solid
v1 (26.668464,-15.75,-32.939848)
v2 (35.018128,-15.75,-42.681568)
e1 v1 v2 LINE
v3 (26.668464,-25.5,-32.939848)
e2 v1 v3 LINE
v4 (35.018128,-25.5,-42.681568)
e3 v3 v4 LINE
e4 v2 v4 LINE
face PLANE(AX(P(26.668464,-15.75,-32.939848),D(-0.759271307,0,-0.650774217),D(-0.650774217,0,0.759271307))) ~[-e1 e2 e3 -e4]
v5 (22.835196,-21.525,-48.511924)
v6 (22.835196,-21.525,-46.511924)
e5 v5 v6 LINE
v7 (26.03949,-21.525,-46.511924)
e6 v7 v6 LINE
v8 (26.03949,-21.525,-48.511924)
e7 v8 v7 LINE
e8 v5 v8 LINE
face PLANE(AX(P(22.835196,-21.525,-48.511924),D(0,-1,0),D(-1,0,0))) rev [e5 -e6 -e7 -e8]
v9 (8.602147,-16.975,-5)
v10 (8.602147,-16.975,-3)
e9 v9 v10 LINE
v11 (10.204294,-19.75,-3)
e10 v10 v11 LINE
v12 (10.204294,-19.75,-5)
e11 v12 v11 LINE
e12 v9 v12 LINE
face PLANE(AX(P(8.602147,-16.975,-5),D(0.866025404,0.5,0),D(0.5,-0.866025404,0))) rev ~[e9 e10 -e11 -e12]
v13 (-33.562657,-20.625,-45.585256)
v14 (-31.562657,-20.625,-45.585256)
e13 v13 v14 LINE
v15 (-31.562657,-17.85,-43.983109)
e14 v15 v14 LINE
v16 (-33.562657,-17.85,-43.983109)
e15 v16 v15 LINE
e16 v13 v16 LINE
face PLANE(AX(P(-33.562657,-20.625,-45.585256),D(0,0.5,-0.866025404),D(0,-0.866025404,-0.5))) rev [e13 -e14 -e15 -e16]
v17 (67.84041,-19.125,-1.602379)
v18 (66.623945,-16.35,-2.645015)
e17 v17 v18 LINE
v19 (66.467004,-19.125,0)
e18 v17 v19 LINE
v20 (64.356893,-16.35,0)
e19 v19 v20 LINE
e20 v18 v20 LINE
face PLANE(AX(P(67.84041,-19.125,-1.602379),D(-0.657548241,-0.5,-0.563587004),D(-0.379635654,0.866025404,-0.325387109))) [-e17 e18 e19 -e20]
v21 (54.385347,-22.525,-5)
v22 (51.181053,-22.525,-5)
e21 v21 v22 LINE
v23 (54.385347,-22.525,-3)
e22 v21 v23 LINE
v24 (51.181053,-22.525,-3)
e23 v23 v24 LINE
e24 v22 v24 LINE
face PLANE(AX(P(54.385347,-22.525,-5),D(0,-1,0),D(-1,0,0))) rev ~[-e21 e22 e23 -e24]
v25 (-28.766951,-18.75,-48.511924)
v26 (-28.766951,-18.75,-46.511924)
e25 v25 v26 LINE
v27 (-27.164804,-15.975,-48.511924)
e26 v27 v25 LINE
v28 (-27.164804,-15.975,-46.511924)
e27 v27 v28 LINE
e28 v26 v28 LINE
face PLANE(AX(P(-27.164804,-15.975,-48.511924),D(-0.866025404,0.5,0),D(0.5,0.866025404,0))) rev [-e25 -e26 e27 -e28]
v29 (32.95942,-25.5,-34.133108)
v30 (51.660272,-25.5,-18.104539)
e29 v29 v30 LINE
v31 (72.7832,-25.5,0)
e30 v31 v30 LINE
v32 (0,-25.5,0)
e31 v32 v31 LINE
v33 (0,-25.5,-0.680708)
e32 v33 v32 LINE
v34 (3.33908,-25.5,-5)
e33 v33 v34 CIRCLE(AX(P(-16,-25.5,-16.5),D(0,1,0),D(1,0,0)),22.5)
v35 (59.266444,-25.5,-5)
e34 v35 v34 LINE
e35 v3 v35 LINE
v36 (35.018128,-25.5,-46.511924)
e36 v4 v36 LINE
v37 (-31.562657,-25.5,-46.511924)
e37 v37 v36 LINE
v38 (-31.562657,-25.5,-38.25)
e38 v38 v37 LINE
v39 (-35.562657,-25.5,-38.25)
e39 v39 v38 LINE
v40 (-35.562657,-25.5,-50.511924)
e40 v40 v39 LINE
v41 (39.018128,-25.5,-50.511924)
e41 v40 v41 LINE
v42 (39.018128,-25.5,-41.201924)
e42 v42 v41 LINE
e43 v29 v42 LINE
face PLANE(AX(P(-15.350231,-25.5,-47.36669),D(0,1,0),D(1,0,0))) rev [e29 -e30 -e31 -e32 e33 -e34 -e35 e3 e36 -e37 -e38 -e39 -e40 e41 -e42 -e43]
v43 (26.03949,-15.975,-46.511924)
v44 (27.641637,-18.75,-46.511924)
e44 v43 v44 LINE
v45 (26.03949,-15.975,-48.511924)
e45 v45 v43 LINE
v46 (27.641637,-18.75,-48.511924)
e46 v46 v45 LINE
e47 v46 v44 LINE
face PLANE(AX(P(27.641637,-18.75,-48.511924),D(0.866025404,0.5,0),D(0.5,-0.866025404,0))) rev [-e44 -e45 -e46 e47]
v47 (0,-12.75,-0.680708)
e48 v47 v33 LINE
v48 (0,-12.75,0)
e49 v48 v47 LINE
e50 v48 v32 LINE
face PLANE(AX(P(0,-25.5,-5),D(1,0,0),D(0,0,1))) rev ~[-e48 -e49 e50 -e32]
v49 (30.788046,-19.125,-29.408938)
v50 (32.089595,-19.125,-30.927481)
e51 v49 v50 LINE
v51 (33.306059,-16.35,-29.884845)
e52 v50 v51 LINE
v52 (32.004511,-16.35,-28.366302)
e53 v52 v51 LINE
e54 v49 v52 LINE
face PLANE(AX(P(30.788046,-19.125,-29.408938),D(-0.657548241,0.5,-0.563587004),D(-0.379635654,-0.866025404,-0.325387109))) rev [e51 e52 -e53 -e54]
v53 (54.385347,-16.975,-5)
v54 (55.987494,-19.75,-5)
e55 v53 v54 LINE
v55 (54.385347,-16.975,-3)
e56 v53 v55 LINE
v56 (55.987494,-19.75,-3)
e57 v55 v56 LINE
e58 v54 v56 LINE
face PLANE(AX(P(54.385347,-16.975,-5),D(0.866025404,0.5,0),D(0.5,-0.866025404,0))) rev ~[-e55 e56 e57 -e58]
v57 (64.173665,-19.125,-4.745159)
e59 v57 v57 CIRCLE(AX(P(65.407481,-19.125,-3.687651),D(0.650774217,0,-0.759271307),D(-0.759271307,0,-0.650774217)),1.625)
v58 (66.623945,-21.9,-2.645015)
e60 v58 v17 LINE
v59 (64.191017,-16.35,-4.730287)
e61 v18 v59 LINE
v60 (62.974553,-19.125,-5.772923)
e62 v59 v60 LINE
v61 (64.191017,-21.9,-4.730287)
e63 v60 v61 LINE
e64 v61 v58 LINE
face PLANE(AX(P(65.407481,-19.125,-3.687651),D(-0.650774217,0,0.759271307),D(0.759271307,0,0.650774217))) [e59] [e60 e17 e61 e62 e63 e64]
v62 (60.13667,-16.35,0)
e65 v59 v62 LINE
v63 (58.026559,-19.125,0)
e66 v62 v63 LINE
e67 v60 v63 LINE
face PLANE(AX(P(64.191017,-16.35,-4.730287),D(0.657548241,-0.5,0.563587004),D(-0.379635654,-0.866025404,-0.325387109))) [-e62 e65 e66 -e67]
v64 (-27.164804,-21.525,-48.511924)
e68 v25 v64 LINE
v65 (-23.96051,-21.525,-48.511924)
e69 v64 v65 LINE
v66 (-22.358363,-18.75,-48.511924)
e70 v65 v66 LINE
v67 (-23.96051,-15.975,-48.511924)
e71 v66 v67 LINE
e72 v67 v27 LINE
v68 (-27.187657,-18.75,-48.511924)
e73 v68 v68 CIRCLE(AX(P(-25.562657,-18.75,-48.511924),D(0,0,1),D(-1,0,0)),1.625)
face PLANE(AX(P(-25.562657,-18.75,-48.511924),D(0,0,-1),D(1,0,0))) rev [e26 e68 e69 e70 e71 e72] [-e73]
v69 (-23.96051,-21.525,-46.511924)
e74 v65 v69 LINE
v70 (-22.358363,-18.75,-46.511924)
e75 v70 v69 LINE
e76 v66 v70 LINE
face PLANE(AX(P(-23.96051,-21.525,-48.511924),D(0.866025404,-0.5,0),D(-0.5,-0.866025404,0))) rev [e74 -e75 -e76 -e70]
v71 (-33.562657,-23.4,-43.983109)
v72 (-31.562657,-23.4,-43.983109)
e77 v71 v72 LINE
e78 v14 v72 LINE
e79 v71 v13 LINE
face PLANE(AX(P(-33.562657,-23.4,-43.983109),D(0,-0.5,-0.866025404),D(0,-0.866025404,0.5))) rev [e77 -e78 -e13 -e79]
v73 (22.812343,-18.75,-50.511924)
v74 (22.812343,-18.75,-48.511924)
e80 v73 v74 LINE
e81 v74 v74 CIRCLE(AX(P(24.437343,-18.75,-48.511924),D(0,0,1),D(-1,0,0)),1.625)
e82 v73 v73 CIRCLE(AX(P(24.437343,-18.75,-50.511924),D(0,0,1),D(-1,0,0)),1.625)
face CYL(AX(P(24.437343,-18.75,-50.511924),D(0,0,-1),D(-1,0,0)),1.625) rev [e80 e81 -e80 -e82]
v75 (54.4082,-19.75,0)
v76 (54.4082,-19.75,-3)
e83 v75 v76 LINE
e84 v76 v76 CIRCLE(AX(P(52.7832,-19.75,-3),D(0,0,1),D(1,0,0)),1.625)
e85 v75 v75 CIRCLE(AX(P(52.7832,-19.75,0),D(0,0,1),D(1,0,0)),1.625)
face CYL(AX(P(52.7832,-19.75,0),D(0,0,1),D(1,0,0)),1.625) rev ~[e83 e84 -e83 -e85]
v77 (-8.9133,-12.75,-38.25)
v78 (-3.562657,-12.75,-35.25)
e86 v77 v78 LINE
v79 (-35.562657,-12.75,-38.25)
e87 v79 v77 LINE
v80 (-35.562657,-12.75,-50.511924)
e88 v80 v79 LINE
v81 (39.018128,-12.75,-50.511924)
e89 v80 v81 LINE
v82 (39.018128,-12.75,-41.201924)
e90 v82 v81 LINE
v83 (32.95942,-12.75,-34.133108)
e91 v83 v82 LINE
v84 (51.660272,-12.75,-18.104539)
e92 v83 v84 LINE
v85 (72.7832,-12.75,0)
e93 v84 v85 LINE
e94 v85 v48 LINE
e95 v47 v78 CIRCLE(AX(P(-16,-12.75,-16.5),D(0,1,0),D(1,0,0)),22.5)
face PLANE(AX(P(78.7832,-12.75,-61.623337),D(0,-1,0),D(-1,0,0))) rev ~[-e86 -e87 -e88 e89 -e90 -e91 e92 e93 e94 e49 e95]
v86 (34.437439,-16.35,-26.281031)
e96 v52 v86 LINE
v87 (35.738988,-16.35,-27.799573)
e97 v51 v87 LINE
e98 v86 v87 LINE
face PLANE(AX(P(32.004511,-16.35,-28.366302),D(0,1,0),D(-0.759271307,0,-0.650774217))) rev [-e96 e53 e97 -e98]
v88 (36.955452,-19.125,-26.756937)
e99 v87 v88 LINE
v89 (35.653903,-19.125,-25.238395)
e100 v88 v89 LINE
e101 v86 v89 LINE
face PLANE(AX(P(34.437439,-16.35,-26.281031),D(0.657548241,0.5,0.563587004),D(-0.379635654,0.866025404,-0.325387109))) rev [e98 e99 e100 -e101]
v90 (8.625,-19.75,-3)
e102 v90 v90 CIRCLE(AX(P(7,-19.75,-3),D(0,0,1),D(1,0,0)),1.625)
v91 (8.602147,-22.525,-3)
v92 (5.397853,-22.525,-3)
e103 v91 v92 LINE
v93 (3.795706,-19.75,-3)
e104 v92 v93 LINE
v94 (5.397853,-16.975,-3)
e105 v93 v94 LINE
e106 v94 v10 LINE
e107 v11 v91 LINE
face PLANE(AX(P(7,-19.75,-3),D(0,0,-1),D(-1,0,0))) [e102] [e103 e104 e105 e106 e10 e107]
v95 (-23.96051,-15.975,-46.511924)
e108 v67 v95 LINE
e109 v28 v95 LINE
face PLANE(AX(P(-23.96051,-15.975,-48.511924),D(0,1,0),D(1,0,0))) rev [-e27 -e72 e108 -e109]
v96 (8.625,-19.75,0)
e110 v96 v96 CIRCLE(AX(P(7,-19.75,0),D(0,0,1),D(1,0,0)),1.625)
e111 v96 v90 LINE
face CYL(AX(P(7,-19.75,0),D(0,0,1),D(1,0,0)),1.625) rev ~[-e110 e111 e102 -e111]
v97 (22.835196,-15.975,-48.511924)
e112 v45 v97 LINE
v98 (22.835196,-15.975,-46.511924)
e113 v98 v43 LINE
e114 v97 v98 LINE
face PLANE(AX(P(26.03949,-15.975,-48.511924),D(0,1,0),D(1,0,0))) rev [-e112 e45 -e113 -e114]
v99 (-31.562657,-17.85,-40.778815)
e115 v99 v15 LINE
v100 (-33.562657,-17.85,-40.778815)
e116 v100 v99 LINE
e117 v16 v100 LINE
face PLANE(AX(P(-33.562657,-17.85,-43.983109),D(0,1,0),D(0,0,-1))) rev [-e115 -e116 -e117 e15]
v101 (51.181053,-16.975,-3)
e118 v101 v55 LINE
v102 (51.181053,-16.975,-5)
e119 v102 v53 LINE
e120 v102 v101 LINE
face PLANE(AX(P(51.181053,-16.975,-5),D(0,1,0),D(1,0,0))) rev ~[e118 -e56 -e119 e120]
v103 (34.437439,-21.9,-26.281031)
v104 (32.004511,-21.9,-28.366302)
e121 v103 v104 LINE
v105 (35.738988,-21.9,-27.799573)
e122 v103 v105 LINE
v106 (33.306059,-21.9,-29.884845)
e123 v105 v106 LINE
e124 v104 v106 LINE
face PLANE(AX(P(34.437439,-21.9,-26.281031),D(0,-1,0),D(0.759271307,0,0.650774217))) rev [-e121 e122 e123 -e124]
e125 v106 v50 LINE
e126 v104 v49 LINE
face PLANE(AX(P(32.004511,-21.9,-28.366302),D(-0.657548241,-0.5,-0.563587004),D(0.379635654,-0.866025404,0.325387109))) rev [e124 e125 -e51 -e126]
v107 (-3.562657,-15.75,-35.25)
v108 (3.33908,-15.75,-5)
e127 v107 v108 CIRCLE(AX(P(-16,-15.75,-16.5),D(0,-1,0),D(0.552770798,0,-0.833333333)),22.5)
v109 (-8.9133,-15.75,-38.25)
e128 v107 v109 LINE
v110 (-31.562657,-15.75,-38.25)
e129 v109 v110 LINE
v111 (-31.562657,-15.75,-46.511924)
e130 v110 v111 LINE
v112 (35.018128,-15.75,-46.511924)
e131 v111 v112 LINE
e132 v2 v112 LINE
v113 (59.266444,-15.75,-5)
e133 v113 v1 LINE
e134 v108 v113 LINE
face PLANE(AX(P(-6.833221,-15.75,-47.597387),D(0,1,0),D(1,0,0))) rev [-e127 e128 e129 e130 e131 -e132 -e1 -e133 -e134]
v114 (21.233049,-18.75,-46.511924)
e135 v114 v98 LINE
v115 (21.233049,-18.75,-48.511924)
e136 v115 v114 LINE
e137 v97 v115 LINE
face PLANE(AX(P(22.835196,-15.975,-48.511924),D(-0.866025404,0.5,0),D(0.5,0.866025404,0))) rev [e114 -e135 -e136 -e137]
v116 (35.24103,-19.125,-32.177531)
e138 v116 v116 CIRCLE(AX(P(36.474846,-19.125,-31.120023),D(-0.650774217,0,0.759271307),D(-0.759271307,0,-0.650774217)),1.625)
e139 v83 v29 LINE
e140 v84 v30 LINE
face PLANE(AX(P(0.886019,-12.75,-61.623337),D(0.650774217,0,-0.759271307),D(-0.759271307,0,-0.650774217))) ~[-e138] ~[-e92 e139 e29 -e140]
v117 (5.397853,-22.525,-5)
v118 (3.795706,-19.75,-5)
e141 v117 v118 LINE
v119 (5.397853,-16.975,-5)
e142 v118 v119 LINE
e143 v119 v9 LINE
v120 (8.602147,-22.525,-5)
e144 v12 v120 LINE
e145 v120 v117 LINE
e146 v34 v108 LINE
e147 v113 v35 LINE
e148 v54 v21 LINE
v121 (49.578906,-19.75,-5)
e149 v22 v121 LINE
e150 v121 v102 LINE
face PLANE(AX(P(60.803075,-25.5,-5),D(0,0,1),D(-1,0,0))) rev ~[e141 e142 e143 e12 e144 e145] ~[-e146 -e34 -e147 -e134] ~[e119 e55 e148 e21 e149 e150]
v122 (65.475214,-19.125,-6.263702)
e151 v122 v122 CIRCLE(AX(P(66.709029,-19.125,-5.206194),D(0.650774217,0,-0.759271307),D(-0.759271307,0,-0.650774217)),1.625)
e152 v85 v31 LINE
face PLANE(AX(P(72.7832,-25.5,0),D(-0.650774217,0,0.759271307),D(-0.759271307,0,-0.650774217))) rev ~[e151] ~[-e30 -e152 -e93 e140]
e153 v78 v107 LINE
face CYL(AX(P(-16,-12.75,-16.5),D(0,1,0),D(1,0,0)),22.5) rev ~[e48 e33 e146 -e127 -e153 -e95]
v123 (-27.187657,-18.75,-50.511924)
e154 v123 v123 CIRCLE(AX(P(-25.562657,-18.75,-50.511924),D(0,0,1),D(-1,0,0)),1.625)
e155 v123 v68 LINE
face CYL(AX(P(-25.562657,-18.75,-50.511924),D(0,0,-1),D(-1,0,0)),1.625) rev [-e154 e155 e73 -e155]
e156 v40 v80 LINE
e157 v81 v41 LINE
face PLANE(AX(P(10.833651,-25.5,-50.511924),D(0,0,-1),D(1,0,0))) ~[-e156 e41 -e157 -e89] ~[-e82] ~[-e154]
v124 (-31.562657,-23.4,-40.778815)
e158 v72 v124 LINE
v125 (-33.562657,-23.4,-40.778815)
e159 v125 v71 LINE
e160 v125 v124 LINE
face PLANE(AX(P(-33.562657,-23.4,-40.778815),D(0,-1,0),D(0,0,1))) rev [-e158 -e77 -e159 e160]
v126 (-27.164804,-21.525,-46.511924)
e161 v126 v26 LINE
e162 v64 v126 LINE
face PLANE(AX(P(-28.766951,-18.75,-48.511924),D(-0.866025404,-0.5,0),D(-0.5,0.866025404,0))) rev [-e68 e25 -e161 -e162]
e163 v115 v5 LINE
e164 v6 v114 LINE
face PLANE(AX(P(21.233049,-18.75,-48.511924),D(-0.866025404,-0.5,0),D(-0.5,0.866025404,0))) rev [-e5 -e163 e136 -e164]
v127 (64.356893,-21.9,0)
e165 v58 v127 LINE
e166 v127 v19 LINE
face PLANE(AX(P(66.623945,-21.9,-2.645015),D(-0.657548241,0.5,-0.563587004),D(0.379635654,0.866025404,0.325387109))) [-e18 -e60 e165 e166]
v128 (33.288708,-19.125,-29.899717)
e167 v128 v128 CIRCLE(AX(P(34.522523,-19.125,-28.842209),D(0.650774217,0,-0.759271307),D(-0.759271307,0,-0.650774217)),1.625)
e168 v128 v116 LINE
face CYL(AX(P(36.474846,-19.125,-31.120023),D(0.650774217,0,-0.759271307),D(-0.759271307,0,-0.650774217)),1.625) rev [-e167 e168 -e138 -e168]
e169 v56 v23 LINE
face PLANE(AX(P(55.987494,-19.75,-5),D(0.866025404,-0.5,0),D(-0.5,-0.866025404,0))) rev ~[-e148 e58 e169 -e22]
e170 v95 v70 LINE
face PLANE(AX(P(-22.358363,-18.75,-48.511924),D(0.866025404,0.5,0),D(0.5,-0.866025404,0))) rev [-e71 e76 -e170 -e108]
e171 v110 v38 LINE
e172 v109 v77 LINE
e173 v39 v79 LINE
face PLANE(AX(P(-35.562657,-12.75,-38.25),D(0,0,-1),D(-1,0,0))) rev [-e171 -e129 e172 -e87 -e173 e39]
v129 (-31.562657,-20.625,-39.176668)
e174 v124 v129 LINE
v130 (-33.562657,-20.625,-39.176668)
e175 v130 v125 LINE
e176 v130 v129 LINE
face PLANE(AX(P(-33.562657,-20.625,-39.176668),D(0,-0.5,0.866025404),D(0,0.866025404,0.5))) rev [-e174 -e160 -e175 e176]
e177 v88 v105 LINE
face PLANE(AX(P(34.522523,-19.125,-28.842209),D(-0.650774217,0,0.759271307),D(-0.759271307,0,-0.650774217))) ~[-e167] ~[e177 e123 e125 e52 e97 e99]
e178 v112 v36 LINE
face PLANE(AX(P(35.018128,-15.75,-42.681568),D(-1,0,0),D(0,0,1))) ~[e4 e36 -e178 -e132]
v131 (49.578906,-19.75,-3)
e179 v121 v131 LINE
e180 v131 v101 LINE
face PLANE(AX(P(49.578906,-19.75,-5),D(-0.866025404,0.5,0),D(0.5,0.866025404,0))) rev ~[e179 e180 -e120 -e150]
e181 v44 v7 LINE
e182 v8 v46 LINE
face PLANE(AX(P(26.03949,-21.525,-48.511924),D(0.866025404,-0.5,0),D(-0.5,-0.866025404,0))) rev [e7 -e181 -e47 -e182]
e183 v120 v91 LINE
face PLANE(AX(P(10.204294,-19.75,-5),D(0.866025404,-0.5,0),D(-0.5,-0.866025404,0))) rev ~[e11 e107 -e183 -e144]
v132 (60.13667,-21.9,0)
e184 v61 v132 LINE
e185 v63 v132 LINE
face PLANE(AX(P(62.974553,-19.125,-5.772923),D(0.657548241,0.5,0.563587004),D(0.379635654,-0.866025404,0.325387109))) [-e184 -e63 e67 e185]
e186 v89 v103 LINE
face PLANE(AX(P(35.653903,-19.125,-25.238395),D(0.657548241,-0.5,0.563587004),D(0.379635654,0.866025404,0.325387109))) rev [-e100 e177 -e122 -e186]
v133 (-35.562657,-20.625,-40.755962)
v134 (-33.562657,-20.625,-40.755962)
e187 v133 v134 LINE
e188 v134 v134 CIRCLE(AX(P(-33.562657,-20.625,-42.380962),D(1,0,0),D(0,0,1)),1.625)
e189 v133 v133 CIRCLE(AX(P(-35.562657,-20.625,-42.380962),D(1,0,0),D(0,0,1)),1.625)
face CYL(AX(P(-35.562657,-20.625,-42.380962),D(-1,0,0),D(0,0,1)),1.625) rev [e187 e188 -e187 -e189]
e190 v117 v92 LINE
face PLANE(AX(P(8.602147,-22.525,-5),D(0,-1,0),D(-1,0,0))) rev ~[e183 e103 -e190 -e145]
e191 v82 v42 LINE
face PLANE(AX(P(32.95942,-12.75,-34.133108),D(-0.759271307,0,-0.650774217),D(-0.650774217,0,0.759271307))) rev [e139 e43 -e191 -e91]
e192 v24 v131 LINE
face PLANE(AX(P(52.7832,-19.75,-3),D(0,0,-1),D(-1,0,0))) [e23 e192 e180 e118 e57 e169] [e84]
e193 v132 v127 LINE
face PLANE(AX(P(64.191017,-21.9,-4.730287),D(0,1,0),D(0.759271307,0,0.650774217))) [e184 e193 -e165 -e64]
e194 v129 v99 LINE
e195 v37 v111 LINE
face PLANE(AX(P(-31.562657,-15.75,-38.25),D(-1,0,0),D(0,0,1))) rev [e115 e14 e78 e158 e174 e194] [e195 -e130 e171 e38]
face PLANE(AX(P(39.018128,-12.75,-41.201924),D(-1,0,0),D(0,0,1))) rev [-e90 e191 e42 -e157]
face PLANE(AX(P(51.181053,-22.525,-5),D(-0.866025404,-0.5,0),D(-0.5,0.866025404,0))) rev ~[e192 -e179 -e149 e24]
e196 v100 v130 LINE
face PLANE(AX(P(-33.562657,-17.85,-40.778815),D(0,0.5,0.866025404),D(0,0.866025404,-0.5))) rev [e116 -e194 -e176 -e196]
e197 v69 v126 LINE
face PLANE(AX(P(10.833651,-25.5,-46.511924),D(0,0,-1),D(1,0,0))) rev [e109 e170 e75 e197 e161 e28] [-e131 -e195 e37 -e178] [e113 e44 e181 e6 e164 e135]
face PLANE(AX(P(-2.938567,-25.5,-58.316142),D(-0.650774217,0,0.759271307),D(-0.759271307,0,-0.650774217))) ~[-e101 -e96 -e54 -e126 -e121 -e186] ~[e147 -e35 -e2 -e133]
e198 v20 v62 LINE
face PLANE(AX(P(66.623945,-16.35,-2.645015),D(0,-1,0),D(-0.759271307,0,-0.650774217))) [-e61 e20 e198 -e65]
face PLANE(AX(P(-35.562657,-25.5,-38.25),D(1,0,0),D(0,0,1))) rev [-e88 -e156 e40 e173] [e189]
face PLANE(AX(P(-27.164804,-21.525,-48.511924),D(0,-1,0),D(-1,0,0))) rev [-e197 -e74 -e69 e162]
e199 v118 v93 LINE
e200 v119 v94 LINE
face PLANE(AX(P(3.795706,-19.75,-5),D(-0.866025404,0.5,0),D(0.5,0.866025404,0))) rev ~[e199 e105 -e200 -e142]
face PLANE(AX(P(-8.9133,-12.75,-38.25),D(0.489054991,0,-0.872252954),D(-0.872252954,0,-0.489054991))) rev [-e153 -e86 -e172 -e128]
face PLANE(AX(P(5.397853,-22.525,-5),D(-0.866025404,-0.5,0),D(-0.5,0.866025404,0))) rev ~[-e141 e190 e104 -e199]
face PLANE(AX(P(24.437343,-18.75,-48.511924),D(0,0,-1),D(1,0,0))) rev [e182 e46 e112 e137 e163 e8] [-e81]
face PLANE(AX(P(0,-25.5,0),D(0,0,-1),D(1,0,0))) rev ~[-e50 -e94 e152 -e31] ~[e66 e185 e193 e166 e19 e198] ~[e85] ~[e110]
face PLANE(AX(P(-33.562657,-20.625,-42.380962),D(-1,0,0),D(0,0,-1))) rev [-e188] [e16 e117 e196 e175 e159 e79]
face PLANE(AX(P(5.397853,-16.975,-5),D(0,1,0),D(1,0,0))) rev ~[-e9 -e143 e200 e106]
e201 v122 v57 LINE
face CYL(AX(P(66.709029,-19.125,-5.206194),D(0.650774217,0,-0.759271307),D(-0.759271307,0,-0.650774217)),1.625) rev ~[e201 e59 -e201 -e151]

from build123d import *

# Parameters (mm, degrees)
SALIENTE_EXTRUIR1_DEPTH     = 12.75
CORTAR_EXTRUIR1_REACH       = 31.62
CROQUIS2_R                  = 1.625
CROQUIS3_R                  = 22.5
CORTAR_EXTRUIR2_DEPTH       = 13.75
SALIENTE_EXTRUIR2_DEPTH     = 3
SALIENTE_EXTRUIR3_DEPTH     = 9.75
CROQUIS6_R                  = 1.625
CORTAR_EXTRUIR3_DEPTH       = 10
CORTAR_EXTRUIR4_START       = -2
CORTAR_EXTRUIR4_DEPTH       = 10
CORTAR_EXTRUIR5_START       = -2
CORTAR_EXTRUIR5_DEPTH       = 10
CORTAR_EXTRUIR6_DEPTH       = 2
CORTAR_EXTRUIR7_REACH       = 37.25
CROQUIS10_R                 = 1.625
CORTAR_EXTRUIR8_DEPTH       = 2
CROQUIS12_W                 = 92.508691999
CROQUIS12_H                 = 24.255818813
CORTAR_EXTRUIR9_DEPTH       = 1
CORTAR_EXTRUIR9_DEPTH_BACK  = 36.25
SALIENTE_EXTRUIR4_DEPTH     = 12.75
CORTAR_EXTRUIR10_START      = -9.75
CORTAR_EXTRUIR10_DEPTH      = 9.75
CROQUIS16_W                 = 68.039065087
CROQUIS16_H                 = 12.75
CORTAR_EXTRUIR11_DEPTH      = 1
CROQUIS17_W                 = 40.657498706
CROQUIS17_H                 = 22.934549925
CORTAR_EXTRUIR12_DEPTH      = 1
CORTAR_EXTRUIR12_DEPTH_BACK = 13.75
SALIENTE_EXTRUIR5_REACH     = 14.75
CROQUIS18_W                 = 34.9120451
CROQUIS18_H                 = 3.951156815
CROQUIS20_R                 = 1.625
CORTAR_EXTRUIR14_DEPTH      = 10
CORTAR_EXTRUIR15_DEPTH      = 2
CROQUIS22_R                 = 1.625
CORTAR_EXTRUIR16_DEPTH      = 10
CORTAR_EXTRUIR17_DEPTH      = 2
SALIENTE_EXTRUIR6_DEPTH     = 12.75
CORTAR_EXTRUIR18_DEPTH      = 2
CROQUIS28_R                 = 1.625
SALIENTE_EXTRUIR7_DEPTH     = 1
CORTAR_EXTRUIR19_REACH      = 110.346
CROQUIS29_R                 = 1.625
CORTAR_EXTRUIR20_DEPTH      = 2
SALIENTE_EXTRUIR11_DEPTH    = 12.75
CROQUIS41_R                 = 1.625
CORTAR_EXTRUIR25_DEPTH      = 10
SALIENTE_EXTRUIR12_DEPTH    = 12.75
SALIENTE_EXTRUIR13_DEPTH    = 12.75
CORTAR_EXTRUIR26_DEPTH      = 13.75
SALIENTE_EXTRUIR14_START    = -9.15
SALIENTE_EXTRUIR14_DEPTH    = 5.55
SALIENTE_EXTRUIR15_REACH    = 14.75
CORTAR_EXTRUIR27_REACH      = 110.346
CROQUIS47_R                 = 1.625
CORTAR_EXTRUIR28_REACH      = 112.346
CORTAR_EXTRUIR28_START      = -2
CORTAR_EXTRUIR29_START      = -9.75
CORTAR_EXTRUIR29_DEPTH      = 9.75
CORTAR_EXTRUIR30_REACH      = 52.512
CROQUIS50_R                 = 1.625
CORTAR_EXTRUIR31_REACH      = 54.512
CORTAR_EXTRUIR31_START      = -2
CROQUIS19_W                 = 120.448667976
CROQUIS19_H                 = 32.886651308
CORTAR_EXTRUIR13_DEPTH      = 1
CORTAR_EXTRUIR13_DEPTH_BACK = 62.623336743


with BuildPart() as part:
    # Croquis1 → Saliente-Extruir1 (new body)
    with BuildSketch(Plane(origin=(0, 0, 0), x_dir=(1, 0, 0), z_dir=(0, 1, 0))):
        Polygon((0, 0), (72.78319995, 0), (38.224450787, 29.62043043), (35.621353918, 26.5833452), (60.803074847, 5), (0, 5), align=None)
    extrude(amount=SALIENTE_EXTRUIR1_DEPTH)

    # Croquis2 → Cortar-Extruir1 (cut, up to next)
    with BuildSketch(Plane.XY, mode=Mode.PRIVATE) as cortar_extruir1_sk1:
        with Locations((52.78319995, 5.75)):
            Circle(CROQUIS2_R)
    cortar_extruir1_tool1 = extrude(cortar_extruir1_sk1.sketch, amount=-CORTAR_EXTRUIR1_REACH, mode=Mode.PRIVATE) & part.part
    add(cortar_extruir1_tool1.solids().sort_by_distance((52.7832, 5.75, 0))[0], mode=Mode.SUBTRACT)
    # Croquis2 → Cortar-Extruir1 (cut, up to next)
    with BuildSketch(Plane.XY, mode=Mode.PRIVATE) as cortar_extruir1_sk2:
        with Locations((6.99999995, 5.75)):
            Circle(CROQUIS2_R)
    cortar_extruir1_tool2 = extrude(cortar_extruir1_sk2.sketch, amount=-CORTAR_EXTRUIR1_REACH, mode=Mode.PRIVATE) & part.part
    add(cortar_extruir1_tool2.solids().sort_by_distance((7, 5.75, 0))[0], mode=Mode.SUBTRACT)

    # Croquis3 → Cortar-Extruir2 (cut, through all)
    with BuildSketch(Plane(origin=(0, 12.75, 0), x_dir=(1, 0, 0), z_dir=(0, 1, 0))):
        with Locations((-16, 16.5)):
            Circle(CROQUIS3_R)
    extrude(amount=-CORTAR_EXTRUIR2_DEPTH, mode=Mode.SUBTRACT)

    # Croquis4 → Saliente-Extruir2 (add)
    with BuildSketch(Plane(origin=(0, 12.75, 0), x_dir=(1, 0, 0), z_dir=(0, 1, 0))):
        with BuildLine():
            Line((38.224450787, 29.62043043), (31.656319269, 35.25))
            Line((31.656319269, 35.25), (-3.562657036, 35.25))
            ThreePointArc((-3.562657036, 35.25), (5.936291456, 21.504909307), (3.339079606, 5))
            Line((3.339079606, 5), (60.803074847, 5))
            Line((60.803074847, 5), (35.621353918, 26.5833452))
            Line((35.621353918, 26.5833452), (38.224450787, 29.62043043))
        make_face()
    extrude(amount=-SALIENTE_EXTRUIR2_DEPTH)

    # Croquis5 → Saliente-Extruir3 (add)
    with BuildSketch(Plane.XZ.offset(-9.75)):
        with BuildLine():
            Line((-3.562657036, -35.25), (31.656319269, -35.25))
            Line((31.656319269, -35.25), (38.224450787, -29.62043043))
            Line((38.224450787, -29.62043043), (35.621353918, -26.5833452))
            Line((35.621353918, -26.5833452), (30.17667434, -31.25))
            Line((30.17667434, -31.25), (0.990806338, -31.25))
            ThreePointArc((0.990806338, -31.25), (-1.15062315, -33.404023402), (-3.562657036, -35.25))
        make_face()
    extrude(amount=SALIENTE_EXTRUIR3_DEPTH)

    # Croquis6 → Cortar-Extruir3 (cut)
    with BuildSketch(Plane(origin=(30.824200619, 0, -35.963211942), x_dir=(-0.759271307, 0, -0.650774217), z_dir=(0.650774217, 0, -0.759271307))):
        with Locations((-47.262195378, 6.375)):
            Circle(CROQUIS6_R)
        with Locations((-7.442195378, 6.375)):
            Circle(CROQUIS6_R)
    extrude(amount=-CORTAR_EXTRUIR3_DEPTH, mode=Mode.SUBTRACT)

    # Croquis7 → Cortar-Extruir4 (cut)
    with BuildSketch(Plane(origin=(28.22110375, 0, -32.926126712), x_dir=(0.759271307, 0, 0.650774217), z_dir=(-0.650774217, 0, 0.759271307)).offset(CORTAR_EXTRUIR4_START)):
        Polygon((48.864342375, 3.6), (50.466489372, 6.375), (48.864342375, 9.15), (45.660048381, 9.15), (44.057901384, 6.375), (45.660048381, 3.6), align=None)
    extrude(amount=CORTAR_EXTRUIR4_DEPTH, mode=Mode.SUBTRACT)

    # Croquis8 → Cortar-Extruir5 (cut)
    with BuildSketch(Plane(origin=(28.22110375, 0, -32.926126712), x_dir=(0.759271307, 0, 0.650774217), z_dir=(-0.650774217, 0, 0.759271307)).offset(CORTAR_EXTRUIR5_START)):
        Polygon((9.044342375, 3.6), (10.646489372, 6.375), (9.044342375, 9.15), (5.840048381, 9.15), (4.237901384, 6.375), (5.840048381, 3.6), align=None)
    extrude(amount=CORTAR_EXTRUIR5_DEPTH, mode=Mode.SUBTRACT)

    # Croquis9 → Cortar-Extruir6 (cut)
    with BuildSketch(Plane(origin=(0, 0, -5), x_dir=(-1, 0, 0), z_dir=(0, 0, -1))):
        Polygon((-5.397852953, 2.975), (-3.795705956, 5.75), (-5.397852953, 8.525), (-8.602146947, 8.525), (-10.204293944, 5.75), (-8.602146947, 2.975), align=None)
        Polygon((-51.181052953, 2.975), (-49.578905956, 5.75), (-51.181052953, 8.525), (-54.385346947, 8.525), (-55.987493944, 5.75), (-54.385346947, 2.975), align=None)
    extrude(amount=-CORTAR_EXTRUIR6_DEPTH, mode=Mode.SUBTRACT)

    # Croquis10 → Cortar-Extruir7 (cut, up to next)
    with BuildSketch(Plane(origin=(0, 0, -35.25), x_dir=(-1, 0, 0), z_dir=(0, 0, -1)), mode=Mode.PRIVATE) as cortar_extruir7_sk1:
        with Locations((-21.656319269, 6.375)):
            Circle(CROQUIS10_R)
    cortar_extruir7_tool1 = extrude(cortar_extruir7_sk1.sketch, amount=-CORTAR_EXTRUIR7_REACH, mode=Mode.PRIVATE) & part.part
    add(cortar_extruir7_tool1.solids().sort_by_distance((21.656319, 6.375, -35.25))[0], mode=Mode.SUBTRACT)

    # Croquis11 → Cortar-Extruir8 (cut)
    with BuildSketch(Plane.XY.offset(-31.25)):
        Polygon((23.258466266, 3.6), (24.860613263, 6.375), (23.258466266, 9.15), (20.054172272, 9.15), (18.452025275, 6.375), (20.054172272, 3.6), align=None)
    extrude(amount=-CORTAR_EXTRUIR8_DEPTH, mode=Mode.SUBTRACT)

    # Simetría1: part across plane


with BuildPart() as part_1:
    add(part.part)
    add(part.part.mirror(Plane.ZX))

    # Croquis12 → Cortar-Extruir9 (cut, two sides)
    with BuildSketch(Plane(origin=(0, 0, -35.25), x_dir=(-1, 0, 0), z_dir=(0, 0, -1))) as cortar_extruir9_sk:
        with Locations((-33.077560565, 12.127909407)):
            Rectangle(CROQUIS12_W, CROQUIS12_H)
    extrude(amount=CORTAR_EXTRUIR9_DEPTH, mode=Mode.SUBTRACT)
    extrude(cortar_extruir9_sk.sketch, amount=-CORTAR_EXTRUIR9_DEPTH_BACK, mode=Mode.SUBTRACT)

    # Croquis13 → Saliente-Extruir4 (add)
    with BuildSketch(Plane.XZ.offset(12.75)):
        Polygon((-35.562657036, -82.38260805), (-35.562657036, -38.25), (-8.913300435, -38.25), (-3.562657036, -35.25), (31.656319269, -35.25), (0.000162281, -62.38260805), align=None)
    extrude(amount=-SALIENTE_EXTRUIR4_DEPTH)

    # Croquis14 → Cortar-Extruir10 (cut)
    with BuildSketch(Plane(origin=(0, 0, 0), x_dir=(1, 0, 0), z_dir=(0, 1, 0)).offset(CORTAR_EXTRUIR10_START)):
        Polygon((30.17667434, 31.25), (0.990806338, 31.25), (-31.562657036, 38.25), (-31.562657036, 75.543902968), (-2.303881466, 59.089203295), align=None)
    extrude(amount=CORTAR_EXTRUIR10_DEPTH, mode=Mode.SUBTRACT)

    # Croquis16 → Cortar-Extruir11 (cut)
    with BuildSketch(Plane(origin=(30.824200619, 0, -35.963211942), x_dir=(-0.759271307, 0, -0.650774217), z_dir=(0.650774217, 0, -0.759271307))):
        with Locations((6.577337166, -6.375)):
            Rectangle(CROQUIS16_W, CROQUIS16_H)
    extrude(amount=-CORTAR_EXTRUIR11_DEPTH, mode=Mode.SUBTRACT)

    # Croquis17 → Cortar-Extruir12 (cut, two sides)
    with BuildSketch(Plane.XZ.offset(12.75)) as cortar_extruir12_sk:
        with Locations((-20.328587072, -73.090611706)):
            Rectangle(CROQUIS17_W, CROQUIS17_H)
    extrude(amount=CORTAR_EXTRUIR12_DEPTH, mode=Mode.SUBTRACT)
    extrude(cortar_extruir12_sk.sketch, amount=-CORTAR_EXTRUIR12_DEPTH_BACK, mode=Mode.SUBTRACT)

    # Croquis18 → Saliente-Extruir5 (add, up to next)
    with BuildSketch(Plane(origin=(0, 0, 0), x_dir=(1, 0, 0), z_dir=(0, 1, 0)), mode=Mode.PRIVATE) as saliente_extruir5_sk1:
        with Locations((-18.106634486, 59.647758336)):
            Rectangle(CROQUIS18_W, CROQUIS18_H)
    saliente_extruir5_tool1 = extrude(saliente_extruir5_sk1.sketch, amount=-SALIENTE_EXTRUIR5_REACH, mode=Mode.PRIVATE) - part_1.part
    add(saliente_extruir5_tool1.solids().sort_by_distance((-18.106634, 0, -59.647758))[0])

    # Croquis20 → Cortar-Extruir14 (cut)
    with BuildSketch(Plane(origin=(30.173426402, 0, -35.203940634), x_dir=(-0.759271307, 0, -0.650774217), z_dir=(0.650774217, 0, -0.759271307))):
        with Locations((25.596869709, -6.375)):
            Circle(CROQUIS20_R)
        with Locations((-7.442195378, -6.375)):
            Circle(CROQUIS20_R)
    extrude(amount=-CORTAR_EXTRUIR14_DEPTH, mode=Mode.SUBTRACT)

    # Croquis21 → Cortar-Extruir15 (cut)
    with BuildSketch(Plane(origin=(28.22110375, 0, -32.926126712), x_dir=(0.759271307, 0, 0.650774217), z_dir=(-0.650774217, 0, 0.759271307))):
        Polygon((-23.994722712, -9.15), (-22.392575715, -6.375), (-23.994722712, -3.6), (-27.199016706, -3.6), (-28.801163703, -6.375), (-27.199016706, -9.15), align=None)
    extrude(amount=-CORTAR_EXTRUIR15_DEPTH, mode=Mode.SUBTRACT)

    # Croquis22 → Cortar-Extruir16 (cut)
    with BuildSketch(Plane(origin=(0, 0, -61.623336743), x_dir=(-1, 0, 0), z_dir=(0, 0, -1))):
        with Locations((18.112657036, -6.375)):
            Circle(CROQUIS22_R)
    extrude(amount=-CORTAR_EXTRUIR16_DEPTH, mode=Mode.SUBTRACT)

    # Croquis23 → Cortar-Extruir17 (cut)
    with BuildSketch(Plane.XY.offset(-57.672179928)):
        Polygon((-16.510510039, -9.15), (-14.908363042, -6.375), (-16.510510039, -3.6), (-19.714804033, -3.6), (-21.31695103, -6.375), (-19.714804033, -9.15), align=None)
    extrude(amount=-CORTAR_EXTRUIR17_DEPTH, mode=Mode.SUBTRACT)

    # Croquis26 → Saliente-Extruir6 (add)
    with BuildSketch(Plane(origin=(0, 0, 0), x_dir=(1, 0, 0), z_dir=(0, 1, 0))):
        Polygon((60.803074847, 5), (-2.287792345, 59.07541325), (-2.938566562, 58.316141943), (60.15230063, 4.240728693), align=None)
    extrude(amount=-SALIENTE_EXTRUIR6_DEPTH)

    # Croquis27 → Cortar-Extruir18 (cut)
    with BuildSketch(Plane(origin=(27.570329533, 0, -32.166855405), x_dir=(0.759271307, 0, 0.650774217), z_dir=(-0.650774217, 0, 0.759271307))):
        Polygon((-22.421443229, -6.375), (-24.009156469, -3.625), (-27.184582949, -3.625), (-28.77229619, -6.375), (-27.184582949, -9.125), (-24.009156469, -9.125), align=None)
        Polygon((10.646489372, -6.375), (9.044342375, -3.6), (5.840048381, -3.6), (4.237901384, -6.375), (5.840048381, -9.15), (9.044342375, -9.15), align=None)
    extrude(amount=-CORTAR_EXTRUIR18_DEPTH, mode=Mode.SUBTRACT)

    # Croquis28 → Saliente-Extruir7 (add)
    with BuildSketch(Plane(origin=(29.522652185, 0, -34.444669327), x_dir=(0.759271307, 0, 0.650774217), z_dir=(-0.650774217, 0, 0.759271307))):
        Polygon((-24.009156469, -3.625), (-27.184582949, -3.625), (-28.77229619, -6.375), (-27.184582949, -9.125), (-24.009156469, -9.125), (-22.421443229, -6.375), align=None)
        with Locations((-25.596869709, -6.375)):
            Circle(CROQUIS28_R, mode=Mode.SUBTRACT)
        Polygon((10.646489372, -6.375), (9.044342375, -3.6), (5.840048381, -3.6), (4.237901384, -6.375), (5.840048381, -9.15), (9.044342375, -9.15), align=None)
        with Locations((7.442195378, -6.375)):
            Circle(CROQUIS28_R, mode=Mode.SUBTRACT)
    extrude(amount=SALIENTE_EXTRUIR7_DEPTH)

    # Croquis29 → Cortar-Extruir19 (cut, up to next)
    with BuildSketch(Plane.ZY.offset(35.562657036), mode=Mode.PRIVATE) as cortar_extruir19_sk1:
        with Locations((-51.623336743, -6.375)):
            Circle(CROQUIS29_R)
    cortar_extruir19_tool1 = extrude(cortar_extruir19_sk1.sketch, amount=-CORTAR_EXTRUIR19_REACH, mode=Mode.PRIVATE) & part_1.part
    add(cortar_extruir19_tool1.solids().sort_by_distance((-35.562657, -6.375, -51.623337))[0], mode=Mode.SUBTRACT)

    # Croquis30 → Cortar-Extruir20 (cut)
    with BuildSketch(Plane(origin=(-31.562657036, 0, 0), x_dir=(0, 0, -1), z_dir=(1, 0, 0))):
        Polygon((53.22548374, -9.15), (54.827630737, -6.375), (53.22548374, -3.6), (50.021189746, -3.6), (48.419042749, -6.375), (50.021189746, -9.15), align=None)
    extrude(amount=-CORTAR_EXTRUIR20_DEPTH, mode=Mode.SUBTRACT)

    # Croquis40 → Saliente-Extruir11 (add)
    with BuildSketch(Plane.XZ.offset(12.75)):
        Polygon((51.009497963, -17.345267417), (-0.650611936, -61.623336743), (0.886019316, -61.623336743), (51.66027218, -18.104538724), align=None)
    extrude(amount=-SALIENTE_EXTRUIR11_DEPTH)

    # Croquis41 → Cortar-Extruir25 (cut)
    with BuildSketch(Plane(origin=(30.824200619, 0, -35.963211942), x_dir=(-0.759271307, 0, -0.650774217), z_dir=(0.650774217, 0, -0.759271307))):
        with Locations((-7.442195378, -6.375)):
            Circle(CROQUIS41_R)
        with Locations((25.596869709, -6.375)):
            Circle(CROQUIS41_R)
    extrude(amount=-CORTAR_EXTRUIR25_DEPTH, mode=Mode.SUBTRACT)

    # Croquis42 → Saliente-Extruir12 (add)
    with BuildSketch(Plane.XZ.offset(12.75)):
        Polygon((32.95941988, -34.133107696), (39.018127843, -41.201923567), (24.71209089, -41.201923567), align=None)
    extrude(amount=-SALIENTE_EXTRUIR12_DEPTH)

    # Croquis43 → Saliente-Extruir13 (add)
    with BuildSketch(Plane.XZ.offset(12.75)):
        Polygon((39.018127843, -41.201923567), (39.018127843, -50.511923567), (13.849927511, -50.511923567), (24.71209089, -41.201923567), align=None)
    extrude(amount=-SALIENTE_EXTRUIR13_DEPTH)

    # Croquis44 → Cortar-Extruir26 (cut, through all)
    with BuildSketch(Plane.XZ.offset(12.75)):
        Polygon((13.849927511, -50.511923567), (-35.562657036, -50.511923567), (-35.562657036, -61.623336743), (0.886019316, -61.623336743), align=None)
    extrude(amount=-CORTAR_EXTRUIR26_DEPTH, mode=Mode.SUBTRACT)

    # Croquis45 → Saliente-Extruir14 (add)
    with BuildSketch(Plane(origin=(0, 0, 0), x_dir=(1, 0, 0), z_dir=(0, 1, 0)).offset(SALIENTE_EXTRUIR14_START)):
        Polygon((6.166771253, 50.511923567), (21.724093533, 50.511923567), (21.724093533, 37.177685684), align=None)
    extrude(amount=SALIENTE_EXTRUIR14_DEPTH)

    # Croquis46 → Saliente-Extruir15 (add, up to next)
    with BuildSketch(Plane(origin=(0, 0, 0), x_dir=(1, 0, 0), z_dir=(0, 1, 0)), mode=Mode.PRIVATE) as saliente_extruir15_sk1:
        Polygon((-35.562657036, 50.511923567), (-31.562657036, 50.511923567), (10.83365133, 50.511923567), (10.83365133, 46.511923567), (-31.562657036, 46.511923567), (-31.562657036, 38.25), (-35.562657036, 38.25), align=None)
    saliente_extruir15_tool1 = extrude(saliente_extruir15_sk1.sketch, amount=-SALIENTE_EXTRUIR15_REACH, mode=Mode.PRIVATE) - part_1.part
    add(saliente_extruir15_tool1.solids().sort_by_distance((-15.568733, 0, -47.585191))[0])

    # Croquis47 → Cortar-Extruir27 (cut, up to next)
    with BuildSketch(Plane.ZY.offset(35.562657036), mode=Mode.PRIVATE) as cortar_extruir27_sk1:
        with Locations((-42.380961783, -4.875)):
            Circle(CROQUIS47_R)
    cortar_extruir27_tool1 = extrude(cortar_extruir27_sk1.sketch, amount=-CORTAR_EXTRUIR27_REACH, mode=Mode.PRIVATE) & part_1.part
    add(cortar_extruir27_tool1.solids().sort_by_distance((-35.562657, -4.875, -42.380962))[0], mode=Mode.SUBTRACT)

    # Croquis48 → Cortar-Extruir28 (cut, up to next)
    with BuildSketch(Plane.ZY.offset(35.562657036).offset(CORTAR_EXTRUIR28_START), mode=Mode.PRIVATE) as cortar_extruir28_sk1:
        Polygon((-40.778814786, -7.65), (-39.176667789, -4.875), (-40.778814786, -2.1), (-43.98310878, -2.1), (-45.585255777, -4.875), (-43.98310878, -7.65), align=None)
    cortar_extruir28_tool1 = extrude(cortar_extruir28_sk1.sketch, amount=-CORTAR_EXTRUIR28_REACH, mode=Mode.PRIVATE) & part_1.part
    add(cortar_extruir28_tool1.solids().sort_by_distance((-33.562657, -4.875, -42.380962))[0], mode=Mode.SUBTRACT)

    # Croquis49 → Cortar-Extruir29 (cut)
    with BuildSketch(Plane(origin=(0, 0, 0), x_dir=(1, 0, 0), z_dir=(0, 1, 0)).offset(CORTAR_EXTRUIR29_START)):
        Polygon((26.668463565, 32.939848028), (35.018127843, 42.681568496), (35.018127843, 46.511923567), (10.83365133, 46.511923567), align=None)
    extrude(amount=CORTAR_EXTRUIR29_DEPTH, mode=Mode.SUBTRACT)

    # Croquis50 → Cortar-Extruir30 (cut, up to next)
    with BuildSketch(Plane(origin=(0, 0, -50.511923567), x_dir=(-1, 0, 0), z_dir=(0, 0, -1)), mode=Mode.PRIVATE) as cortar_extruir30_sk1:
        with Locations((25.562657036, -6.75)):
            Circle(CROQUIS50_R)
    cortar_extruir30_tool1 = extrude(cortar_extruir30_sk1.sketch, amount=-CORTAR_EXTRUIR30_REACH, mode=Mode.PRIVATE) & part_1.part
    add(cortar_extruir30_tool1.solids().sort_by_distance((-25.562657, -6.75, -50.511924))[0], mode=Mode.SUBTRACT)
    # Croquis50 → Cortar-Extruir30 (cut, up to next)
    with BuildSketch(Plane(origin=(0, 0, -50.511923567), x_dir=(-1, 0, 0), z_dir=(0, 0, -1)), mode=Mode.PRIVATE) as cortar_extruir30_sk2:
        with Locations((-24.437342964, -6.75)):
            Circle(CROQUIS50_R)
    cortar_extruir30_tool2 = extrude(cortar_extruir30_sk2.sketch, amount=-CORTAR_EXTRUIR30_REACH, mode=Mode.PRIVATE) & part_1.part
    add(cortar_extruir30_tool2.solids().sort_by_distance((24.437343, -6.75, -50.511924))[0], mode=Mode.SUBTRACT)

    # Croquis51 → Cortar-Extruir31 (cut, up to next)
    with BuildSketch(Plane(origin=(0, 0, -50.511923567), x_dir=(-1, 0, 0), z_dir=(0, 0, -1)).offset(CORTAR_EXTRUIR31_START), mode=Mode.PRIVATE) as cortar_extruir31_sk1:
        Polygon((-22.835195967, -9.525), (-21.23304897, -6.75), (-22.835195967, -3.975), (-26.039489961, -3.975), (-27.641636958, -6.75), (-26.039489961, -9.525), align=None)
    cortar_extruir31_tool1 = extrude(cortar_extruir31_sk1.sketch, amount=-CORTAR_EXTRUIR31_REACH, mode=Mode.PRIVATE) & part_1.part
    add(cortar_extruir31_tool1.solids().sort_by_distance((24.437343, -6.75, -48.511924))[0], mode=Mode.SUBTRACT)
    # Croquis51 → Cortar-Extruir31 (cut, up to next)
    with BuildSketch(Plane(origin=(0, 0, -50.511923567), x_dir=(-1, 0, 0), z_dir=(0, 0, -1)).offset(CORTAR_EXTRUIR31_START), mode=Mode.PRIVATE) as cortar_extruir31_sk2:
        Polygon((27.164804033, -9.525), (28.76695103, -6.75), (27.164804033, -3.975), (23.960510039, -3.975), (22.358363042, -6.75), (23.960510039, -9.525), align=None)
    cortar_extruir31_tool2 = extrude(cortar_extruir31_sk2.sketch, amount=-CORTAR_EXTRUIR31_REACH, mode=Mode.PRIVATE) & part_1.part
    add(cortar_extruir31_tool2.solids().sort_by_distance((-25.562657, -6.75, -48.511924))[0], mode=Mode.SUBTRACT)

    # Simetría2: part across face


with BuildPart() as part_2:
    add(part_1.part)
    add(part_1.part.mirror(Plane(origin=(19.502677982, -12.75, -25.93599085), x_dir=(0, 0, 1), z_dir=(0, -1, 0))))

    # Croquis19 → Cortar-Extruir13 (cut, two sides)
    with BuildSketch(Plane(origin=(0, 0, -61.623336743), x_dir=(-1, 0, 0), z_dir=(0, 0, -1))) as cortar_extruir13_sk:
        with Locations((-18.558865962, 3.693325654)):
            Rectangle(CROQUIS19_W, CROQUIS19_H)
    extrude(amount=CORTAR_EXTRUIR13_DEPTH, mode=Mode.SUBTRACT)
    extrude(cortar_extruir13_sk.sketch, amount=-CORTAR_EXTRUIR13_DEPTH_BACK, mode=Mode.SUBTRACT)


solid = part_2.part
